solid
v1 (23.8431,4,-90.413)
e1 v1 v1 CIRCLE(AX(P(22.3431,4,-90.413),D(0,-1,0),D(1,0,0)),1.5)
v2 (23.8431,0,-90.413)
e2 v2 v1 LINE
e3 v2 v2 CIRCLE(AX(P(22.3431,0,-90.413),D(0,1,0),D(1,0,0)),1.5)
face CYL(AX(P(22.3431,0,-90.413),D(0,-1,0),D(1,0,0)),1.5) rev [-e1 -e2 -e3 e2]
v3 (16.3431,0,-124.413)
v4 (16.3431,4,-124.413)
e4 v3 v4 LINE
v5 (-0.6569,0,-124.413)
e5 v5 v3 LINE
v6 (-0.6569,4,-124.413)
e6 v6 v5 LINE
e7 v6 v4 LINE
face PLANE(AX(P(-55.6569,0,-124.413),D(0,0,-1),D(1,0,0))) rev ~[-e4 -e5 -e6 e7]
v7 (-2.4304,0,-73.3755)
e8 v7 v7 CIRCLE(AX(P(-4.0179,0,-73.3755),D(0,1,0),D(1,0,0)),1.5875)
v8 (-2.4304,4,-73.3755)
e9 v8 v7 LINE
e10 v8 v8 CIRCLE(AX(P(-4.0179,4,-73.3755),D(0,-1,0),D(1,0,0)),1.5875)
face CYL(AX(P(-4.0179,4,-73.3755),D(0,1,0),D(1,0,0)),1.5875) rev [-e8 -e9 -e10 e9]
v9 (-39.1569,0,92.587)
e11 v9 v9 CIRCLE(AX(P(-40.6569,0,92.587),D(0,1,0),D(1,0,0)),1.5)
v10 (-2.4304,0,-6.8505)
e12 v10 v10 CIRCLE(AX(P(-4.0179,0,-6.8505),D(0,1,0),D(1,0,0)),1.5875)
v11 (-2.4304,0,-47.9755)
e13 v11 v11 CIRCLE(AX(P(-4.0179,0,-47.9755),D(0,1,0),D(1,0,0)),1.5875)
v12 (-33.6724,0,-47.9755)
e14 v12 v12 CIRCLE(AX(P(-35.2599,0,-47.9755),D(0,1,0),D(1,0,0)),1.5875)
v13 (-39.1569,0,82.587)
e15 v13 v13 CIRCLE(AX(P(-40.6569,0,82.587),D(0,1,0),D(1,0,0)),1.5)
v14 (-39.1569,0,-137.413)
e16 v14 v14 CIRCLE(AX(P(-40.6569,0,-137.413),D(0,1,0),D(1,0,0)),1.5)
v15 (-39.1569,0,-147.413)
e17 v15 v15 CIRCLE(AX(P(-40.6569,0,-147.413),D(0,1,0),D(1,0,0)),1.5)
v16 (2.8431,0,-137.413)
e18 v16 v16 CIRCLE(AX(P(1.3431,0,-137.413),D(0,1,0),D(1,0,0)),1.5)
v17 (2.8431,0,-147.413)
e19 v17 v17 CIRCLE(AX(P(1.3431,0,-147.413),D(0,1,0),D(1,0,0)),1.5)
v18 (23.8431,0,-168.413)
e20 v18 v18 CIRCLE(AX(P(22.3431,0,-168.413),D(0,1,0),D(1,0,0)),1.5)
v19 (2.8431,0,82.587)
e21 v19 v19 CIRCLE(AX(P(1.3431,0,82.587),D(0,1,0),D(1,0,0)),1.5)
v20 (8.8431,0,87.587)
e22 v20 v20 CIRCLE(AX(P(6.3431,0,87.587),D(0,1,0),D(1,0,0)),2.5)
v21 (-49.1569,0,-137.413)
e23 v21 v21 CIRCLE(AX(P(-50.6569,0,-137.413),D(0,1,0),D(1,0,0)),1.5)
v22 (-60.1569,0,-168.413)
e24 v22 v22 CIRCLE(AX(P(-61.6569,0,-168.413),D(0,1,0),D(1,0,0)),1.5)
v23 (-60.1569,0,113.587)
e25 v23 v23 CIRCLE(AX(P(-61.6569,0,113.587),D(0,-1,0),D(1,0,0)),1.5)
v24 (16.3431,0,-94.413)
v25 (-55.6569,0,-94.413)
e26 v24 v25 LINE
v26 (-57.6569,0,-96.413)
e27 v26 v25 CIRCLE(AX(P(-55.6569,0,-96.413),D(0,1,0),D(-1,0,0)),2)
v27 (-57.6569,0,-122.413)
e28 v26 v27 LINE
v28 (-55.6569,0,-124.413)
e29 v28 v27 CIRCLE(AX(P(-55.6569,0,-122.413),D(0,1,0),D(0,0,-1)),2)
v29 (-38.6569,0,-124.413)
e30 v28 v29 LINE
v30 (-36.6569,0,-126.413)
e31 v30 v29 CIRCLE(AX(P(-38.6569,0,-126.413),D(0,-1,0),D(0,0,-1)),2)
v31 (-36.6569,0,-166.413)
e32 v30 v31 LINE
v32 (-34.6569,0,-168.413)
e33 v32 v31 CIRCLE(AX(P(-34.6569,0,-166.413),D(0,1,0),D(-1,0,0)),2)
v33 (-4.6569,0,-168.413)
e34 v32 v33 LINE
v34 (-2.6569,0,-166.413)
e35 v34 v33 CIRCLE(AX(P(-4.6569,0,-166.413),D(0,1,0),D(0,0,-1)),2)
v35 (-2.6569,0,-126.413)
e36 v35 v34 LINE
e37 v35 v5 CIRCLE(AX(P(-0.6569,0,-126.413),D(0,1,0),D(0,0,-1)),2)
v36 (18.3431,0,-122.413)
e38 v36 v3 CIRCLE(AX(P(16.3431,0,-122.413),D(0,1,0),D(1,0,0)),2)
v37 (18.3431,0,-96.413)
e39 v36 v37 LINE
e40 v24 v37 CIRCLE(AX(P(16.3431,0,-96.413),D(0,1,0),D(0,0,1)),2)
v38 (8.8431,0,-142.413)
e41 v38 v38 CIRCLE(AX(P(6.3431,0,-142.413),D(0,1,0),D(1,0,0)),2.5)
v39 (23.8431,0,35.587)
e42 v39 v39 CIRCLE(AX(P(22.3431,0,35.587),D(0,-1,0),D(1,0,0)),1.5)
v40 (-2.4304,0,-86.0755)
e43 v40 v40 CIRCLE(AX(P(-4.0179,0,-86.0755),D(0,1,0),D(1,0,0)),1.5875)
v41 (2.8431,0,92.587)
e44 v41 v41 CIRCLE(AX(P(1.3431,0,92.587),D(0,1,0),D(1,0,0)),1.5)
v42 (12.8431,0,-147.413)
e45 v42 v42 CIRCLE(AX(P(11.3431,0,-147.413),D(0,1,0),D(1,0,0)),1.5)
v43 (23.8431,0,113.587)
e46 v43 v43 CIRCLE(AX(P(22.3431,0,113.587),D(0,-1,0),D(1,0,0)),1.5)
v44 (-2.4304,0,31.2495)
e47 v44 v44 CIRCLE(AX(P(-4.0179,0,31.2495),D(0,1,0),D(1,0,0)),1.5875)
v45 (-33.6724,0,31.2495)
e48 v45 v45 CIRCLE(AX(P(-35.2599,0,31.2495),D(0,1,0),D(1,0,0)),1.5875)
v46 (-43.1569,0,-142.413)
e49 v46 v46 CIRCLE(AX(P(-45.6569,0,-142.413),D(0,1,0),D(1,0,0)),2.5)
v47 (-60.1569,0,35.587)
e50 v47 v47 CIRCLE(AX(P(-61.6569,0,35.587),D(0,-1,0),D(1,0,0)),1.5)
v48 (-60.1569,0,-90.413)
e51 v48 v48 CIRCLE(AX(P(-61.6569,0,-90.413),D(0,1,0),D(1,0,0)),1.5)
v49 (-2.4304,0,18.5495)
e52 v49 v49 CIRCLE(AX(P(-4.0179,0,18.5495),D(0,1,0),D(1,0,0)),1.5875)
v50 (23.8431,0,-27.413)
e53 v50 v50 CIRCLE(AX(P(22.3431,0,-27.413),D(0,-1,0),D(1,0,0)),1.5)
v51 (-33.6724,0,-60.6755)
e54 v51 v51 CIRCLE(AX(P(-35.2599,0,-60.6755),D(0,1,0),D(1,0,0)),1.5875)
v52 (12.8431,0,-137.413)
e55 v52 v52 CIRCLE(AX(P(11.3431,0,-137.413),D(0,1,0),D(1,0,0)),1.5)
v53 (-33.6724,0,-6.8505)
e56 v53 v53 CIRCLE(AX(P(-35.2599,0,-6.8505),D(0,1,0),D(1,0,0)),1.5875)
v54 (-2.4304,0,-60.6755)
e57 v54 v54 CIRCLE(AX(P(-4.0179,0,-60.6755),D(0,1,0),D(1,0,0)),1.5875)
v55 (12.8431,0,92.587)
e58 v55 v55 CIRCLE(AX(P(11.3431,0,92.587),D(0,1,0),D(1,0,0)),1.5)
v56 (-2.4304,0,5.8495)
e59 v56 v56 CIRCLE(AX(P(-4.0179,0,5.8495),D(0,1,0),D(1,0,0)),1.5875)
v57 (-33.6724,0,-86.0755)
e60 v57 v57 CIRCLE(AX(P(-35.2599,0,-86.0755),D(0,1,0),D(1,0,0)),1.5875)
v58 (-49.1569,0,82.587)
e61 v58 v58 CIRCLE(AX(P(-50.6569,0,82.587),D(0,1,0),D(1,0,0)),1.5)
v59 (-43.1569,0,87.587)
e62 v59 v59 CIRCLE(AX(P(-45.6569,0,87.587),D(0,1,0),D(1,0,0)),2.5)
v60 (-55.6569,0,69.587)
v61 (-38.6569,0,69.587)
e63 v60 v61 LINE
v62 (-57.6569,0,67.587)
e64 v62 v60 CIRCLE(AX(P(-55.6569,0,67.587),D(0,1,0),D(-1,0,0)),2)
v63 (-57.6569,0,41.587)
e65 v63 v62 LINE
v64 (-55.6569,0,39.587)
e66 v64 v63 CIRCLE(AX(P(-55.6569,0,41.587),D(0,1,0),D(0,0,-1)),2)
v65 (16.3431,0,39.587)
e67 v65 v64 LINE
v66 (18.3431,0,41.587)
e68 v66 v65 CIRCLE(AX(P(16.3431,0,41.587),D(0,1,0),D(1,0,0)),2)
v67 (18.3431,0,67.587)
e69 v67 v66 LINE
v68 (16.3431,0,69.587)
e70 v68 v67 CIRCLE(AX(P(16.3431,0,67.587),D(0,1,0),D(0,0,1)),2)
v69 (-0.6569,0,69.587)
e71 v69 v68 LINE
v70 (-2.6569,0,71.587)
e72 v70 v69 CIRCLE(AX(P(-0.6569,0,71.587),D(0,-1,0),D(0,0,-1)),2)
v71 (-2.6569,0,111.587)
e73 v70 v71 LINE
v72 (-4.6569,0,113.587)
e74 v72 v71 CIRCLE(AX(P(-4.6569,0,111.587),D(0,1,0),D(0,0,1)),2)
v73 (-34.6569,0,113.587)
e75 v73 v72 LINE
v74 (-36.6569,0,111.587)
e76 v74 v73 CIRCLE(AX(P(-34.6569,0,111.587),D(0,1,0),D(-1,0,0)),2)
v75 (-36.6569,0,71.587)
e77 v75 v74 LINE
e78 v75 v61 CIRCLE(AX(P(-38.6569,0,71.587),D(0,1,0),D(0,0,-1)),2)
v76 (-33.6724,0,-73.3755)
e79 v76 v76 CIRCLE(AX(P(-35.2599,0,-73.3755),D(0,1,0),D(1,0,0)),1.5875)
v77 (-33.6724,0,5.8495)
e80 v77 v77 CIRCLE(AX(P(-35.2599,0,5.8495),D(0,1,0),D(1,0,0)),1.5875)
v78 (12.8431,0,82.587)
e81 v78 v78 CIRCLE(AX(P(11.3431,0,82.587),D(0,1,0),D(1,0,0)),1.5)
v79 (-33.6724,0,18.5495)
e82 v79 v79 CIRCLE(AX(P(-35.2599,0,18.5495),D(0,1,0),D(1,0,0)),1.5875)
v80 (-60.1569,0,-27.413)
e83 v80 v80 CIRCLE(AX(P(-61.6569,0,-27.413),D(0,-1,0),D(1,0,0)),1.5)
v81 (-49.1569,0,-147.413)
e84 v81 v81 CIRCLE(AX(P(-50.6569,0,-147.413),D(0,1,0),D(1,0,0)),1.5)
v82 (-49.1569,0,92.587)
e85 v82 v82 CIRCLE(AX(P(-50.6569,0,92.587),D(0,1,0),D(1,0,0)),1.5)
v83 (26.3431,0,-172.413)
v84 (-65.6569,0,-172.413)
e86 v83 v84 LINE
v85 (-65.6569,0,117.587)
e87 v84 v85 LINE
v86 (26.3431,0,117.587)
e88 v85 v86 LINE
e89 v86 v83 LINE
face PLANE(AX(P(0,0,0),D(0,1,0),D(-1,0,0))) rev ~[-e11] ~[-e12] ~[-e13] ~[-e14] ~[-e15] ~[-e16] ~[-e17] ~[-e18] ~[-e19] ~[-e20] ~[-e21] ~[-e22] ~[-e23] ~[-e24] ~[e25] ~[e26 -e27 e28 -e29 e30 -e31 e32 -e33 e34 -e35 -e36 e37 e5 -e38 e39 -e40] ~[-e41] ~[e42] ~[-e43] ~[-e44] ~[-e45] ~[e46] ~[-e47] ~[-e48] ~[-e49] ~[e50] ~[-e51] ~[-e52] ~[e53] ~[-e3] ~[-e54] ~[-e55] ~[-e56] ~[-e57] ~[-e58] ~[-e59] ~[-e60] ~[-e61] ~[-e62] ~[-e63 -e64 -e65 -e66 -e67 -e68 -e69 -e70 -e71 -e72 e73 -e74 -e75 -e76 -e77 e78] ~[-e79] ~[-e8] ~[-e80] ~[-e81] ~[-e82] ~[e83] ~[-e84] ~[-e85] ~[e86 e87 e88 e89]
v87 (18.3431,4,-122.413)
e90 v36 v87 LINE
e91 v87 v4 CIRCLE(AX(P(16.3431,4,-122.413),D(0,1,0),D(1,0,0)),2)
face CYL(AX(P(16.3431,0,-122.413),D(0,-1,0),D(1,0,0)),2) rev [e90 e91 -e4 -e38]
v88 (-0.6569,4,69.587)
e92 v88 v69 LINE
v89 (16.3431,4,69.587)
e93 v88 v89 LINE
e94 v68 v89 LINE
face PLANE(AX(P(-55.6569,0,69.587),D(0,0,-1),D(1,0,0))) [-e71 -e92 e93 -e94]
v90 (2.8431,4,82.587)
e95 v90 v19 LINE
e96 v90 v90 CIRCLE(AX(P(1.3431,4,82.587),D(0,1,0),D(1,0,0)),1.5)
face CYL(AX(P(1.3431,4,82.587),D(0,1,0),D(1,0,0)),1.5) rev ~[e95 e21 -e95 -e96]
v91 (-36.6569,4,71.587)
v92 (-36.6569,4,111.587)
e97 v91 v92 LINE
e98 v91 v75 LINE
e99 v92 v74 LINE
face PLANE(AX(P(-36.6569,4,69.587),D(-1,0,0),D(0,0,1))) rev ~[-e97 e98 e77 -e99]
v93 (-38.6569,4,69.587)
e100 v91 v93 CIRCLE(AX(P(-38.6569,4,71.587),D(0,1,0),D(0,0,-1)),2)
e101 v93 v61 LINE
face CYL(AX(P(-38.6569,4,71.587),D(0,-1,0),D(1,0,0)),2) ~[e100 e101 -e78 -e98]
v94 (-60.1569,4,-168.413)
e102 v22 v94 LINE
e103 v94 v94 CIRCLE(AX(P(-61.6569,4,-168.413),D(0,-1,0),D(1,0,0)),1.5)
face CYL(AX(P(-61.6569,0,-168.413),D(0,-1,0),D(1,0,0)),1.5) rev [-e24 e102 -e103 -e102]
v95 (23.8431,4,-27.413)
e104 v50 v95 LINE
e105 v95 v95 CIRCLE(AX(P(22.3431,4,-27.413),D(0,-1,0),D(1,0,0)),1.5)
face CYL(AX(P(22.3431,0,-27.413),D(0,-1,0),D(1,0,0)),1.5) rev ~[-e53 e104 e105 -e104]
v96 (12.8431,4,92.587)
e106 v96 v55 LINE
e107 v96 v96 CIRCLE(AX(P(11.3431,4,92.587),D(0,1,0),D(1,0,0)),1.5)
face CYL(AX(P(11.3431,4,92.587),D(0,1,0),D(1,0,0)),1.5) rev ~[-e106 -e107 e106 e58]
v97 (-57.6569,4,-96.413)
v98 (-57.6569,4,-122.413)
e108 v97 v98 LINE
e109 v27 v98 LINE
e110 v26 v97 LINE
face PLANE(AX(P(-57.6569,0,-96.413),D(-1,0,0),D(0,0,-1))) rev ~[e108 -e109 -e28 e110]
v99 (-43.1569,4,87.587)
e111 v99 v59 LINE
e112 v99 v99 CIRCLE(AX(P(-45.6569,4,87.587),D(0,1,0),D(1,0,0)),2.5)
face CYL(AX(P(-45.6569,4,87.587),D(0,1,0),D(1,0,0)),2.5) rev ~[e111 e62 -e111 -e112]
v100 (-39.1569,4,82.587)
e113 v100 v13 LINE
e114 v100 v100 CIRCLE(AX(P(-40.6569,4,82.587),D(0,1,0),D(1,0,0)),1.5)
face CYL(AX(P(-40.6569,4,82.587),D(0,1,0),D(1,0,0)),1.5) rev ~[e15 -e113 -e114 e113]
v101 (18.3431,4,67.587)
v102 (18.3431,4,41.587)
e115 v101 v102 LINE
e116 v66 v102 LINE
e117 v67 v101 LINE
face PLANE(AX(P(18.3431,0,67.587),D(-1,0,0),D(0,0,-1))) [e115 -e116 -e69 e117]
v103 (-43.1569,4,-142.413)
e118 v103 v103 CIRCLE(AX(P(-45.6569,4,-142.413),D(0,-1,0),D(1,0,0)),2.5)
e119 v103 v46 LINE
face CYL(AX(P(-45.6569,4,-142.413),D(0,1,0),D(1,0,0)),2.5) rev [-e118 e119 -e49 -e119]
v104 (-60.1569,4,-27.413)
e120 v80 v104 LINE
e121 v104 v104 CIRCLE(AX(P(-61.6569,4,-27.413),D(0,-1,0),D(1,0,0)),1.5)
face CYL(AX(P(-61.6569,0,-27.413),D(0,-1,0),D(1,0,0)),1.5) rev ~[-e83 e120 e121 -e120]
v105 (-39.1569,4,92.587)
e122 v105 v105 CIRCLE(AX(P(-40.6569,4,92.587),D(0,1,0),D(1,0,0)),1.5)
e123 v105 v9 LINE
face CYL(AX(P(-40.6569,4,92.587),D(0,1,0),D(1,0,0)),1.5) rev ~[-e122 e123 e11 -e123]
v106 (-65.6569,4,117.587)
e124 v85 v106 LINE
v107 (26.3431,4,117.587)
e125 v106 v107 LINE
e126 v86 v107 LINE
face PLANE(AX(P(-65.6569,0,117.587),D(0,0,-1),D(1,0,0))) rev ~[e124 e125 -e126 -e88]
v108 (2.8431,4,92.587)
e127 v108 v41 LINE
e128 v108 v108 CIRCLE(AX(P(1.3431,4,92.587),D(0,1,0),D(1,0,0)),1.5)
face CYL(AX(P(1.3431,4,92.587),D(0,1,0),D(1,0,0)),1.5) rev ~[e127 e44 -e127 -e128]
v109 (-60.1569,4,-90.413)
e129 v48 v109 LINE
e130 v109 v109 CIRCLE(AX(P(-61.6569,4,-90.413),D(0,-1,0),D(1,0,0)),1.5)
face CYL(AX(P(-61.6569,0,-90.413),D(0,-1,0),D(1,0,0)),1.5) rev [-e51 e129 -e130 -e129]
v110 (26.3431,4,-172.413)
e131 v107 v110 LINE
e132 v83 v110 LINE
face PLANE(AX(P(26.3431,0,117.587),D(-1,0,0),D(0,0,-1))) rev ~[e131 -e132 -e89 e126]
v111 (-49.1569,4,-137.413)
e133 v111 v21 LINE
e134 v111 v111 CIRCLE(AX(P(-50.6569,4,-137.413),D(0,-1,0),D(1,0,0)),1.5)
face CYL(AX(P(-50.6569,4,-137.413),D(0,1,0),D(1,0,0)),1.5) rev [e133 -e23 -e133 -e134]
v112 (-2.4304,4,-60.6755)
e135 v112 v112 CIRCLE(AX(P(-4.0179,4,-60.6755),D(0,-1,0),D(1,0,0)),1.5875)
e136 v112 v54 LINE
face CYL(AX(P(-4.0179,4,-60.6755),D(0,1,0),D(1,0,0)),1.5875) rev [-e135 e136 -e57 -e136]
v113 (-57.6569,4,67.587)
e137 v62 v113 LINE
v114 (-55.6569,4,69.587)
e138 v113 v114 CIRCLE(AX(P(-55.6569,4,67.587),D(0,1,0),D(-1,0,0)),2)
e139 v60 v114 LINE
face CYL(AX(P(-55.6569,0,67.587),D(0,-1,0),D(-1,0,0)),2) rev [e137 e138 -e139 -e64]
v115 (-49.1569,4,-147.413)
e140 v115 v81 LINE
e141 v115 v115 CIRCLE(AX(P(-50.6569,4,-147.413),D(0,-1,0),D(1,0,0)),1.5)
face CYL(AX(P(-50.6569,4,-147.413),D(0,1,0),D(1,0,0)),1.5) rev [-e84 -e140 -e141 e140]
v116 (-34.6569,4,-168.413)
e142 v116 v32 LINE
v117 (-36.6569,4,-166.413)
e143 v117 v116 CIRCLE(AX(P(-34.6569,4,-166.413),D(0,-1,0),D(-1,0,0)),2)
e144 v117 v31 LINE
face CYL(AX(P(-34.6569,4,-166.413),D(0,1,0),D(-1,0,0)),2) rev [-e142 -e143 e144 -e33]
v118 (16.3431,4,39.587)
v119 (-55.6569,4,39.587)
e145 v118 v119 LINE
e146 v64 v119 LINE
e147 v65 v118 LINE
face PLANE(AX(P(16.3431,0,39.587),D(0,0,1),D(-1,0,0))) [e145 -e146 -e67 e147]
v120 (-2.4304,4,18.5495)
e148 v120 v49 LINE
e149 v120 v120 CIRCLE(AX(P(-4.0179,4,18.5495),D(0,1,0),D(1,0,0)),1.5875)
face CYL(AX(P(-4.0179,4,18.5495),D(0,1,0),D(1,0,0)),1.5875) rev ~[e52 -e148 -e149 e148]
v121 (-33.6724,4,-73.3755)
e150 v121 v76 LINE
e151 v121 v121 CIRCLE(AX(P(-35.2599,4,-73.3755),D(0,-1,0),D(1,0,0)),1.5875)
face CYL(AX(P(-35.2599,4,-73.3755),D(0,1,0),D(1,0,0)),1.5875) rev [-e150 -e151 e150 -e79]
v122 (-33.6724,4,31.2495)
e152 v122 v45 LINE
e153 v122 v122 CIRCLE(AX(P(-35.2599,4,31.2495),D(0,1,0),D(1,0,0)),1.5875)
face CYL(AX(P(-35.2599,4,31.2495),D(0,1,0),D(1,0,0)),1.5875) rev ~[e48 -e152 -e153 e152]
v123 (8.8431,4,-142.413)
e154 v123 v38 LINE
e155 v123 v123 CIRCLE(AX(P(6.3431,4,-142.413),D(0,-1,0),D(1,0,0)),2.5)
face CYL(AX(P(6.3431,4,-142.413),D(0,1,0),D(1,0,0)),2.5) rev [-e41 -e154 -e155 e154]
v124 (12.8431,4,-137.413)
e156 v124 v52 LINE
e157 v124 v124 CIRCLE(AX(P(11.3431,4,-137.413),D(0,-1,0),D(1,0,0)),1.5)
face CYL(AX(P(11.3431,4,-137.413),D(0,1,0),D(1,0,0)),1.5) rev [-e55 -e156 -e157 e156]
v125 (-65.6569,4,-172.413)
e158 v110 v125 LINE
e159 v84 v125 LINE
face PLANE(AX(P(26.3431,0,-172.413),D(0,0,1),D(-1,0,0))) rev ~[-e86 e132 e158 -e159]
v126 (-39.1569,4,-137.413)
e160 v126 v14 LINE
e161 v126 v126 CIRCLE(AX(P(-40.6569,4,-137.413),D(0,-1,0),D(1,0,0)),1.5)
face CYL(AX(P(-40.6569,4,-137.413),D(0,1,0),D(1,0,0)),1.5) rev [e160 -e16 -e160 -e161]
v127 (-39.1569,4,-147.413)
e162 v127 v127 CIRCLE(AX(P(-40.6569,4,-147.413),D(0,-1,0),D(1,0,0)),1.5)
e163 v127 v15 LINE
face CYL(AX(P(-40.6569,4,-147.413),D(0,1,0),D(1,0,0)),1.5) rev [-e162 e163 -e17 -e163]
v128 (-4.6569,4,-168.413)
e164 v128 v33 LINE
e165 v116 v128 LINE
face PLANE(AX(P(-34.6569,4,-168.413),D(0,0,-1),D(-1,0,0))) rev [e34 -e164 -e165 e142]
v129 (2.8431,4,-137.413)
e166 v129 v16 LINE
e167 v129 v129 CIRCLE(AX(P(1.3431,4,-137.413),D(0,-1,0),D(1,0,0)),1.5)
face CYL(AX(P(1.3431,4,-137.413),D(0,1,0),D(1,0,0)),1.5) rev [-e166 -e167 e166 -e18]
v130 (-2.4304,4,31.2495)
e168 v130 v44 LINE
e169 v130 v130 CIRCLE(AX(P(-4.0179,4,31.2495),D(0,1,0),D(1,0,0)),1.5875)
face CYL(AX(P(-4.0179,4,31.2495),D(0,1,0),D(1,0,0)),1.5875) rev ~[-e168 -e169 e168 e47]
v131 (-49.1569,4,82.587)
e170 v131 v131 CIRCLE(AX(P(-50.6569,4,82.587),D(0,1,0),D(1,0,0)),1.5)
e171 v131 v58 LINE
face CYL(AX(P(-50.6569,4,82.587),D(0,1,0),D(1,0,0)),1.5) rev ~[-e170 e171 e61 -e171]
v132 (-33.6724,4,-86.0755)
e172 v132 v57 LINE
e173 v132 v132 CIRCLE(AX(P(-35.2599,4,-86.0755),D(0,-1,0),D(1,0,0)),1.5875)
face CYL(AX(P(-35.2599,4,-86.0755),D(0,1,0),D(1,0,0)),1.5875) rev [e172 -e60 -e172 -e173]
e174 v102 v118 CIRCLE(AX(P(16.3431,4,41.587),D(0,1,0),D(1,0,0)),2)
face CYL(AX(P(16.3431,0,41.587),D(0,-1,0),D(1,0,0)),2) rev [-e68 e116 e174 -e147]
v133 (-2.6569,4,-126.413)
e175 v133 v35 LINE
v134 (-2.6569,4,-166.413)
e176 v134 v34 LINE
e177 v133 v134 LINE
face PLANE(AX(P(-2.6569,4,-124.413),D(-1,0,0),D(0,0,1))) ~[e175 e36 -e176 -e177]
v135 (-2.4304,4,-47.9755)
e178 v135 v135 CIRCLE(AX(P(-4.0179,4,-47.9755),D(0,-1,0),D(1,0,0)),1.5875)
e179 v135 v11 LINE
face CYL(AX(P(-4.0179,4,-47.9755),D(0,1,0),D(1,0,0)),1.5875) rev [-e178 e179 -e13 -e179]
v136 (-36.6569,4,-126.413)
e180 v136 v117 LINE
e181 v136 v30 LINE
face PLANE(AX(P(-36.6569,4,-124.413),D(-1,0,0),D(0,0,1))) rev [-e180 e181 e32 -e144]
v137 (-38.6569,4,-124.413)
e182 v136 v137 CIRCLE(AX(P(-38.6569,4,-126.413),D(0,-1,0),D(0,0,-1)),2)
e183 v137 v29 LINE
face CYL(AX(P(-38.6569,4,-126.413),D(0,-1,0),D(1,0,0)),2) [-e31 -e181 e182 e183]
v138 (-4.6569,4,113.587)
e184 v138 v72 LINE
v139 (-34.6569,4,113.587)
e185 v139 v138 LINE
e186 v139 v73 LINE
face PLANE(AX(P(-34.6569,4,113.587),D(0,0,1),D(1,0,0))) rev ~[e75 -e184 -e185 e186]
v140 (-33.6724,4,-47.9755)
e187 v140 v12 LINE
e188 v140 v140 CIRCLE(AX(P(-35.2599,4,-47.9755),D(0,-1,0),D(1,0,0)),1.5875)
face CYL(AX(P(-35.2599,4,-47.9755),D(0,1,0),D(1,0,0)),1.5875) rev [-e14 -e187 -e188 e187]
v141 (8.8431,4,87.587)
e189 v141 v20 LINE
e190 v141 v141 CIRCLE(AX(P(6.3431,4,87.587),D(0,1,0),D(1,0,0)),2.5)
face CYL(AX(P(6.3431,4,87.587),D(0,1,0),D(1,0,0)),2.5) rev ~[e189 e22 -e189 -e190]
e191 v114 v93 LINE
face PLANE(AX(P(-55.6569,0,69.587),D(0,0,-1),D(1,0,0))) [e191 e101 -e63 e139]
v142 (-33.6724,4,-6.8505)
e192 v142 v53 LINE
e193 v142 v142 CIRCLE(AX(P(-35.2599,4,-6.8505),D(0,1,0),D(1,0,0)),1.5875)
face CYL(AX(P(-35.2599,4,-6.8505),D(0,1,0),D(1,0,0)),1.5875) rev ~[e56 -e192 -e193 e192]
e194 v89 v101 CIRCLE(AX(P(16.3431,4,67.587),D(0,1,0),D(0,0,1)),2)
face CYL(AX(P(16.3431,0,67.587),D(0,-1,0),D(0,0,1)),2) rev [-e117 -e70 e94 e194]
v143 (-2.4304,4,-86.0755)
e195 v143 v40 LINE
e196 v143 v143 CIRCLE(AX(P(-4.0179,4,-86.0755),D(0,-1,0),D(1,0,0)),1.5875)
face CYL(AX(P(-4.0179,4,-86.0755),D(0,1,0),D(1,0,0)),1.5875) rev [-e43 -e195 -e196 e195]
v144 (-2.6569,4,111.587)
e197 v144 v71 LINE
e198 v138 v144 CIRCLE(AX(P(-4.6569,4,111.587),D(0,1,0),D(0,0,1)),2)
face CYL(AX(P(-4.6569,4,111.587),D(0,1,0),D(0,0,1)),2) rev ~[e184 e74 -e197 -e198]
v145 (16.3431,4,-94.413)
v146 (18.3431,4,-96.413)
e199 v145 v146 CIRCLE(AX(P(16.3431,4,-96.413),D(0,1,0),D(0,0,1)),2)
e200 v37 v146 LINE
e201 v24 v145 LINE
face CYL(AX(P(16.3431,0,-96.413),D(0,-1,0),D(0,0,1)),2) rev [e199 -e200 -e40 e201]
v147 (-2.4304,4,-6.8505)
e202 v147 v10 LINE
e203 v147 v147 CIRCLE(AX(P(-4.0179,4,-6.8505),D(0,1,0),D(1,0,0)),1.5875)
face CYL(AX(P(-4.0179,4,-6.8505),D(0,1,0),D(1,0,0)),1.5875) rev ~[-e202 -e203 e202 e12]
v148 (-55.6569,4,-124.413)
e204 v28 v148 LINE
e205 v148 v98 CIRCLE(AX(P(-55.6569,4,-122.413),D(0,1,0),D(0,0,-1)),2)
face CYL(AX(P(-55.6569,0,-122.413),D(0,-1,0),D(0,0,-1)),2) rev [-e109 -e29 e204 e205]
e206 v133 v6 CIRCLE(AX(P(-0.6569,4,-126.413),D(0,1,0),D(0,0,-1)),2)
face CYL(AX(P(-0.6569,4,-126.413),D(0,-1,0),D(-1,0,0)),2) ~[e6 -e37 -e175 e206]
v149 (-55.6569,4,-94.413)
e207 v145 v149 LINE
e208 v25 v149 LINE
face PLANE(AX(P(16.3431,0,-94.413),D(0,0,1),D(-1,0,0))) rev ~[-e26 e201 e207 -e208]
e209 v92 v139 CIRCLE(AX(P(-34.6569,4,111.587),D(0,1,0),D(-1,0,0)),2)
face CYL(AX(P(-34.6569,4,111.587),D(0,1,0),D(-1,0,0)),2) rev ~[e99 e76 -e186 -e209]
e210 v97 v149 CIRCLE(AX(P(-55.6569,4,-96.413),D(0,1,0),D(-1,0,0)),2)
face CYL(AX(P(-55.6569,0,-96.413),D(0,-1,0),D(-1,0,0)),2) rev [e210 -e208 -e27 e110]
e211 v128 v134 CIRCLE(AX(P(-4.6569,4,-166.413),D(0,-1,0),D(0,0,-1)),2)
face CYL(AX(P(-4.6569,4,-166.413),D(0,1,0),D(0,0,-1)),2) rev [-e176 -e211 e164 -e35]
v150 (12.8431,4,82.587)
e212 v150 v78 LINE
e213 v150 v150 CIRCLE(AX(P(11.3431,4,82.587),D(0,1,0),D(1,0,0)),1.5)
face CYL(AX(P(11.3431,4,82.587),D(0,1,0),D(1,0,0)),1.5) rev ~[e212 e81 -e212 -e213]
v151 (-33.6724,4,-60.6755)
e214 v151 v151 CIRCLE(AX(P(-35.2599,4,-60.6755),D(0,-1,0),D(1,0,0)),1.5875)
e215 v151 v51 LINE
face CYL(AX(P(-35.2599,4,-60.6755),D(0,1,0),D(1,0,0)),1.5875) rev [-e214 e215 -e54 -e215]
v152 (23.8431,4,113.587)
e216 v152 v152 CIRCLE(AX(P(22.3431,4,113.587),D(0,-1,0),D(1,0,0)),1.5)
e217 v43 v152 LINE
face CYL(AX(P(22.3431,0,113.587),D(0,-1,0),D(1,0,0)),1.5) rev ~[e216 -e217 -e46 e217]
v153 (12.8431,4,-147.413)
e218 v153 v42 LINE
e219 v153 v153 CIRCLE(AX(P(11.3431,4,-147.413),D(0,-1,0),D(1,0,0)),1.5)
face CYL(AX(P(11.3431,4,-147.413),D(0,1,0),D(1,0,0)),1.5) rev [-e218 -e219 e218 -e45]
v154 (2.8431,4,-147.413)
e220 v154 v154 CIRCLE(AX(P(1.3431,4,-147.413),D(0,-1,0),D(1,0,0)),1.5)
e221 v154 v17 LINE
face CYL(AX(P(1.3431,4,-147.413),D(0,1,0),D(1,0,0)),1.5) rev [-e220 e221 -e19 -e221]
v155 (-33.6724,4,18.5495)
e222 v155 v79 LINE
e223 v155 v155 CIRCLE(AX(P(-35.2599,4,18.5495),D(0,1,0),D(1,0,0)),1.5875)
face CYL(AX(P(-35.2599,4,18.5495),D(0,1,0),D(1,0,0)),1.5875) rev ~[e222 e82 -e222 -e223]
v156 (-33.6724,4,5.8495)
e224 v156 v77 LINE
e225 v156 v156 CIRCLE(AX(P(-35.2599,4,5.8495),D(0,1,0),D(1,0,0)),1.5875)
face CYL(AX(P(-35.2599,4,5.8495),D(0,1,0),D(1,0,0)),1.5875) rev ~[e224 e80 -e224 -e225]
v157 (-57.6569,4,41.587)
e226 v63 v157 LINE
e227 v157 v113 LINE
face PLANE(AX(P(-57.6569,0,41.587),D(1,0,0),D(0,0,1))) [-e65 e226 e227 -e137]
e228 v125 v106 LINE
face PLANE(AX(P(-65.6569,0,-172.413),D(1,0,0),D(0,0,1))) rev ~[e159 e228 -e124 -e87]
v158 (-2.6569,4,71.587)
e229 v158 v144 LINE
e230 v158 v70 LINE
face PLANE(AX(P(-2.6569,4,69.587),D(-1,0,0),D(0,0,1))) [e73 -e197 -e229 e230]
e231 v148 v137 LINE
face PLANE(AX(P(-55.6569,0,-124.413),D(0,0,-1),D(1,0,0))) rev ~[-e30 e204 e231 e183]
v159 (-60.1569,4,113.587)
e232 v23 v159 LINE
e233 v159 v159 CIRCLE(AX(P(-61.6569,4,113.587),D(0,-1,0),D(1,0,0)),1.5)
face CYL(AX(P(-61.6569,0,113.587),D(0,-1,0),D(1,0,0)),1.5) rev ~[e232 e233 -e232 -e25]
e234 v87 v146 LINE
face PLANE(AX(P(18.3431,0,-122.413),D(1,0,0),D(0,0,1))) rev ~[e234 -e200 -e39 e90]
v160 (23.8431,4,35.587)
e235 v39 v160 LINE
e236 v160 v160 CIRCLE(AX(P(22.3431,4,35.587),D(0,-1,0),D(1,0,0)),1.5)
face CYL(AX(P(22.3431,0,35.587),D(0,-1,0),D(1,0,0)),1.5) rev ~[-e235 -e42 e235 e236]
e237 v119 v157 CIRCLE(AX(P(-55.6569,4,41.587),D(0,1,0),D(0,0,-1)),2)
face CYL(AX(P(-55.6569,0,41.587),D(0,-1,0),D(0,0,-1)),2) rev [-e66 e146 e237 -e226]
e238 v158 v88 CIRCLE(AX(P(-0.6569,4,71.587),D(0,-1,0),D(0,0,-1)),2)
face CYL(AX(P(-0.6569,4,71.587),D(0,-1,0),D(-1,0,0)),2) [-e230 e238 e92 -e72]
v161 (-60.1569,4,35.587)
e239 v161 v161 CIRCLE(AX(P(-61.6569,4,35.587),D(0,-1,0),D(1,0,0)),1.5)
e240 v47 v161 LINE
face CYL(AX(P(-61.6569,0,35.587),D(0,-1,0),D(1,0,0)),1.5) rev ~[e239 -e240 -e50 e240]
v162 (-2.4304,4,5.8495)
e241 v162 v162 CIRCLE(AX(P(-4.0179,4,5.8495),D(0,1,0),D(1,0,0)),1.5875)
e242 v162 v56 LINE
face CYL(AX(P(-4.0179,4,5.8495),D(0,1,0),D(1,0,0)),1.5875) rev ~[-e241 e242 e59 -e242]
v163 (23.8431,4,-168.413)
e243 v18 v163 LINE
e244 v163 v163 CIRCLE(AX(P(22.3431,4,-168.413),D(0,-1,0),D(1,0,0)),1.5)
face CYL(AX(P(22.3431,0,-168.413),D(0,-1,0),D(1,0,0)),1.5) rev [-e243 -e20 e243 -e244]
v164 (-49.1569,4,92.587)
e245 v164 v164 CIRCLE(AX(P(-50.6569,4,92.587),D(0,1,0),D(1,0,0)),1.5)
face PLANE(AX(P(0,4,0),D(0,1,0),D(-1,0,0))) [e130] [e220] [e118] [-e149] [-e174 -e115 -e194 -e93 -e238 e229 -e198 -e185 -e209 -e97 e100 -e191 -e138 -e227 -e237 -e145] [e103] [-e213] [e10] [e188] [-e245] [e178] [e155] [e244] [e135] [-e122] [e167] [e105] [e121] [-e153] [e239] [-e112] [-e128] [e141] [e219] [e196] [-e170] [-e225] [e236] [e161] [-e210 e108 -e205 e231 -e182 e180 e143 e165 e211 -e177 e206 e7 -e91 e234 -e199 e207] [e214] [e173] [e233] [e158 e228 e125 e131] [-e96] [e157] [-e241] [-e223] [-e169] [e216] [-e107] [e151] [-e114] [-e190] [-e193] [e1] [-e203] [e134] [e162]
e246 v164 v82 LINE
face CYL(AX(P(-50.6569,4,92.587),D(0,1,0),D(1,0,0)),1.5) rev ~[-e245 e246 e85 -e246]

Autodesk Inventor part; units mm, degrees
ref_plane "YZ Plane" through (0, 0, 0) normal (1, 0, 0) x (0, 1, 0)
ref_plane "XZ Plane" through (0, 0, 0) normal (0, 1, 0) x (-1, 0, 0)
sketch "Esquisse1" plane through (0, 0, 0) normal (0, 1, 0) x (-1, 0, 0)
  line L0 (65.6569, 117.587) -> (-26.3431, 117.587)
  line L1 (-26.3431, 117.587) -> (-26.3431, -172.413)
  line L2 (-26.3431, -172.413) -> (65.6569, -172.413)
  line L3 (65.6569, -172.413) -> (65.6569, 117.587)
  line L4 (55.6569, 69.587) -> (-16.3431, 69.587)
  line L5 (-18.3431, 67.587) -> (-18.3431, 41.587)
  line L6 (-16.3431, 39.587) -> (55.6569, 39.587)
  line L7 (57.6569, 41.587) -> (57.6569, 67.587)
  arc A0 (-18.3431, 41.587) -> (-16.3431, 39.587) centre (-16.3431, 41.587) ccw
  arc A1 (55.6569, 39.587) -> (57.6569, 41.587) centre (55.6569, 41.587) ccw
  arc A2 (57.6569, 67.587) -> (55.6569, 69.587) centre (55.6569, 67.587) ccw
  arc A3 (-16.3431, 69.587) -> (-18.3431, 67.587) centre (-16.3431, 67.587) ccw
  line L8 (65.6569, -27.413) -> (-26.3431, -27.413) construction
  line L9 (55.6569, -124.413) -> (-16.3431, -124.413)
  line L10 (-18.3431, -122.413) -> (-18.3431, -96.413)
  line L11 (-16.3431, -94.413) -> (55.6569, -94.413)
  line L12 (57.6569, -96.413) -> (57.6569, -122.413)
  arc A4 (-16.3431, -94.413) -> (-18.3431, -96.413) centre (-16.3431, -96.413) ccw
  arc A5 (57.6569, -96.413) -> (55.6569, -94.413) centre (55.6569, -96.413) ccw
  arc A6 (55.6569, -124.413) -> (57.6569, -122.413) centre (55.6569, -122.413) ccw
  arc A7 (-18.3431, -122.413) -> (-16.3431, -124.413) centre (-16.3431, -122.413) ccw
  point P0 (0, 0)
  dimension "d0" = 290
  dimension "d1" = 92
  dimension "d7" = 30
  dimension "d8" = 8
  dimension "d9" = 8
  dimension "d10" = 2
  dimension "d15" = 48
  dimension "d23" = 145
extrude "Extrusion1" add sketch "Esquisse1" along normal blind 4
sketch "Esquisse3" plane through (0, 4, 0) normal (0, 1, 0) x (1, 0, 0)
  circle A0 centre (-35.2599, -31.2495) radius 1.5875 projected
  circle A1 centre (-35.2599, -18.5495) radius 1.5875 projected
  circle A2 centre (-35.2599, -5.8495) radius 1.5875 projected
  arc A3 (-57.6569, 96.413) -> (-55.6569, 94.413) centre (-55.6569, 96.413) ccw projected
  line L0 (-57.6569, 96.413) -> (-57.6569, 122.413) projected
  arc A4 (-55.6569, 124.413) -> (-57.6569, 122.413) centre (-55.6569, 122.413) ccw projected
  line L1 (-55.6569, 124.413) -> (16.3431, 124.413) projected
  arc A5 (18.3431, 122.413) -> (16.3431, 124.413) centre (16.3431, 122.413) ccw projected
  line L2 (18.3431, 122.413) -> (18.3431, 96.413) projected
  arc A6 (16.3431, 94.413) -> (18.3431, 96.413) centre (16.3431, 96.413) ccw projected
  line L3 (16.3431, 94.413) -> (-55.6569, 94.413) projected
  arc A7 (16.3431, -69.587) -> (18.3431, -67.587) centre (16.3431, -67.587) ccw projected
  line L4 (16.3431, -69.587) -> (-55.6569, -69.587) projected
  arc A8 (-57.6569, -67.587) -> (-55.6569, -69.587) centre (-55.6569, -67.587) ccw projected
  line L5 (-57.6569, -67.587) -> (-57.6569, -41.587) projected
  arc A9 (-55.6569, -39.587) -> (-57.6569, -41.587) centre (-55.6569, -41.587) ccw projected
  line L6 (-55.6569, -39.587) -> (16.3431, -39.587) projected
  arc A10 (18.3431, -41.587) -> (16.3431, -39.587) centre (16.3431, -41.587) ccw projected
  line L7 (18.3431, -41.587) -> (18.3431, -67.587) projected
  line L8 (-65.6569, -117.587) -> (26.3431, -117.587) projected
  line L9 (26.3431, -117.587) -> (26.3431, 172.413) projected
  line L10 (26.3431, 172.413) -> (-65.6569, 172.413) projected
  line L11 (-65.6569, 172.413) -> (-65.6569, -117.587) projected
  circle A11 centre (-35.2599, 6.8505) radius 1.5875 projected
  circle A12 centre (-4.0179, -31.2495) radius 1.5875 projected
  circle A13 centre (-4.0179, -18.5495) radius 1.5875 projected
  circle A14 centre (-4.0179, -5.8495) radius 1.5875 projected
  circle A15 centre (-4.0179, 6.8505) radius 1.5875 projected
extrude "Extrusion3" cut sketch "Esquisse3" against normal through all contours A0 | A1 | A2 | A11 | A12 | A13 | A14 | A15
ref_plane "Plan médian largeur" through (-65.6569, 0, -27.413) normal (0, 0, 1) x (1, 0, 0)
sketch "Esquisse4" plane through (0, 4, 0) normal (0, 1, 0) x (1, 0, 0)
  line L0 (-2.6569, -69.587) -> (-2.6569, -111.587)
  line L1 (16.3431, -69.587) -> (-55.6569, -69.587) projected
  line L2 (-36.6569, -69.587) -> (-36.6569, -111.587)
  line L3 (-65.6569, 172.413) -> (-65.6569, -117.587) projected
  line L4 (-34.6569, -113.587) -> (-4.6569, -113.587)
  arc A0 (-36.6569, -111.587) -> (-34.6569, -113.587) centre (-34.6569, -111.587) ccw
  arc A1 (-4.6569, -113.587) -> (-2.6569, -111.587) centre (-4.6569, -111.587) ccw
  point P0 (0, 0)
  point P1 (-36.6569, -113.587)
  dimension "d52" = 2
  dimension "d53" = 29
  dimension "d67" = 34
extrude "Extrusion4" cut sketch "Esquisse4" against normal through all
sketch "Esquisse6" plane through (0, 0, 0) normal (0, -1, 0) x (1, 0, 0)
  circle A0 centre (-61.6569, 113.587) radius 1.5
  circle A1 centre (22.3431, 113.587) radius 1.5
  circle A2 centre (22.3431, 35.587) radius 1.5
  circle A3 centre (-61.6569, 35.587) radius 1.5
  circle A4 centre (-61.6569, -27.413) radius 1.5
  circle A5 centre (22.3431, -27.413) radius 1.5
  line L0 (-65.6569, -172.413) -> (-65.6569, 117.587) projected
  line L1 (-65.6569, 117.587) -> (26.3431, 117.587) projected
  line L2 (26.3431, 117.587) -> (26.3431, -172.413) projected
  line L3 (16.3431, 39.587) -> (-55.6569, 39.587) projected
  point P0 (0, 0)
  dimension "d32" = 3
  dimension "d33" = 3
  dimension "d34" = 3
  dimension "d35" = 3
  dimension "d36" = 3
  dimension "d37" = 3
  dimension "d38" = 4
  dimension "d39" = 4
  dimension "d40" = 4
  dimension "d41" = 4
  dimension "d42" = 4
  dimension "d43" = 4
  dimension "d44" = 4
  dimension "d45" = 4
  dimension "d46" = 4
  dimension "d47" = 145
  dimension "d48" = 145
  dimension "d49" = 4
extrude "Extrusion5" cut sketch "Esquisse6" against normal through all
sketch "Esquisse7" plane through (0, 4, 0) normal (0, 1, 0) x (1, 0, 0)
  circle A0 centre (11.3431, -92.587) radius 1.9 projected
  circle A1 centre (11.3431, -82.587) radius 1.9 projected
  circle A2 centre (6.3431, -87.587) radius 4.25 projected
  circle A3 centre (-40.6569, -92.587) radius 1.9 projected
  circle A4 centre (1.3431, -92.587) radius 1.9 projected
  circle A5 centre (1.3431, -82.587) radius 1.9 projected
  circle A6 centre (11.3431, -92.587) radius 1.5
  circle A7 centre (1.3431, -92.587) radius 1.5
  circle A8 centre (6.3431, -87.587) radius 2.5
  circle A9 centre (1.3431, -82.587) radius 1.5
  circle A10 centre (11.3431, -82.587) radius 1.5
  circle A11 centre (-50.6569, -92.587) radius 1.5 projected
  circle A12 centre (-50.6569, -82.587) radius 1.5 projected
  circle A13 centre (-40.6569, -82.587) radius 1.5 projected
  circle A14 centre (-45.6569, -87.587) radius 2.75 projected
  circle A15 centre (-40.6569, -92.587) radius 1.5
  circle A16 centre (-50.6569, -92.587) radius 1.5
  circle A17 centre (-50.6569, -82.587) radius 1.5
  circle A18 centre (-40.6569, -82.587) radius 1.5
  circle A19 centre (-45.6569, -87.587) radius 2.5
  point P0 (0, 0)
  dimension "d55" = 3
  dimension "d56" = 3
  dimension "d57" = 5
  dimension "d58" = 3
  dimension "d59" = 3
  dimension "d60" = 3
  dimension "d61" = 3
  dimension "d62" = 3
  dimension "d63" = 3
  dimension "d64" = 5
extrude "Extrusion6" cut sketch "Esquisse7" against normal through all contours A6 | A7 | A8 | A9 | A10 | A11 | A12 | A13 | A15 | A19
mirror "Symétrie1" about plane through (-65.6569, 0, -27.413) normal (0, 0, 1) of "Extrusion3", "Extrusion4", "Extrusion5", "Extrusion6"
fillet "Congé1" radius 2 1 edges at (-2.6569, 2, 69.587)
fillet "Congé2" radius 2 1 edges at (-36.6569, 2, 69.587)
fillet "Congé3" radius 2 1 edges at (-2.6569, 2, -124.413)
fillet "Congé4" radius 2 1 edges at (-36.6569, 2, -124.413)
equation "\"d23\" = 0.5 * d0"
properties part number "socle_ammovible"
